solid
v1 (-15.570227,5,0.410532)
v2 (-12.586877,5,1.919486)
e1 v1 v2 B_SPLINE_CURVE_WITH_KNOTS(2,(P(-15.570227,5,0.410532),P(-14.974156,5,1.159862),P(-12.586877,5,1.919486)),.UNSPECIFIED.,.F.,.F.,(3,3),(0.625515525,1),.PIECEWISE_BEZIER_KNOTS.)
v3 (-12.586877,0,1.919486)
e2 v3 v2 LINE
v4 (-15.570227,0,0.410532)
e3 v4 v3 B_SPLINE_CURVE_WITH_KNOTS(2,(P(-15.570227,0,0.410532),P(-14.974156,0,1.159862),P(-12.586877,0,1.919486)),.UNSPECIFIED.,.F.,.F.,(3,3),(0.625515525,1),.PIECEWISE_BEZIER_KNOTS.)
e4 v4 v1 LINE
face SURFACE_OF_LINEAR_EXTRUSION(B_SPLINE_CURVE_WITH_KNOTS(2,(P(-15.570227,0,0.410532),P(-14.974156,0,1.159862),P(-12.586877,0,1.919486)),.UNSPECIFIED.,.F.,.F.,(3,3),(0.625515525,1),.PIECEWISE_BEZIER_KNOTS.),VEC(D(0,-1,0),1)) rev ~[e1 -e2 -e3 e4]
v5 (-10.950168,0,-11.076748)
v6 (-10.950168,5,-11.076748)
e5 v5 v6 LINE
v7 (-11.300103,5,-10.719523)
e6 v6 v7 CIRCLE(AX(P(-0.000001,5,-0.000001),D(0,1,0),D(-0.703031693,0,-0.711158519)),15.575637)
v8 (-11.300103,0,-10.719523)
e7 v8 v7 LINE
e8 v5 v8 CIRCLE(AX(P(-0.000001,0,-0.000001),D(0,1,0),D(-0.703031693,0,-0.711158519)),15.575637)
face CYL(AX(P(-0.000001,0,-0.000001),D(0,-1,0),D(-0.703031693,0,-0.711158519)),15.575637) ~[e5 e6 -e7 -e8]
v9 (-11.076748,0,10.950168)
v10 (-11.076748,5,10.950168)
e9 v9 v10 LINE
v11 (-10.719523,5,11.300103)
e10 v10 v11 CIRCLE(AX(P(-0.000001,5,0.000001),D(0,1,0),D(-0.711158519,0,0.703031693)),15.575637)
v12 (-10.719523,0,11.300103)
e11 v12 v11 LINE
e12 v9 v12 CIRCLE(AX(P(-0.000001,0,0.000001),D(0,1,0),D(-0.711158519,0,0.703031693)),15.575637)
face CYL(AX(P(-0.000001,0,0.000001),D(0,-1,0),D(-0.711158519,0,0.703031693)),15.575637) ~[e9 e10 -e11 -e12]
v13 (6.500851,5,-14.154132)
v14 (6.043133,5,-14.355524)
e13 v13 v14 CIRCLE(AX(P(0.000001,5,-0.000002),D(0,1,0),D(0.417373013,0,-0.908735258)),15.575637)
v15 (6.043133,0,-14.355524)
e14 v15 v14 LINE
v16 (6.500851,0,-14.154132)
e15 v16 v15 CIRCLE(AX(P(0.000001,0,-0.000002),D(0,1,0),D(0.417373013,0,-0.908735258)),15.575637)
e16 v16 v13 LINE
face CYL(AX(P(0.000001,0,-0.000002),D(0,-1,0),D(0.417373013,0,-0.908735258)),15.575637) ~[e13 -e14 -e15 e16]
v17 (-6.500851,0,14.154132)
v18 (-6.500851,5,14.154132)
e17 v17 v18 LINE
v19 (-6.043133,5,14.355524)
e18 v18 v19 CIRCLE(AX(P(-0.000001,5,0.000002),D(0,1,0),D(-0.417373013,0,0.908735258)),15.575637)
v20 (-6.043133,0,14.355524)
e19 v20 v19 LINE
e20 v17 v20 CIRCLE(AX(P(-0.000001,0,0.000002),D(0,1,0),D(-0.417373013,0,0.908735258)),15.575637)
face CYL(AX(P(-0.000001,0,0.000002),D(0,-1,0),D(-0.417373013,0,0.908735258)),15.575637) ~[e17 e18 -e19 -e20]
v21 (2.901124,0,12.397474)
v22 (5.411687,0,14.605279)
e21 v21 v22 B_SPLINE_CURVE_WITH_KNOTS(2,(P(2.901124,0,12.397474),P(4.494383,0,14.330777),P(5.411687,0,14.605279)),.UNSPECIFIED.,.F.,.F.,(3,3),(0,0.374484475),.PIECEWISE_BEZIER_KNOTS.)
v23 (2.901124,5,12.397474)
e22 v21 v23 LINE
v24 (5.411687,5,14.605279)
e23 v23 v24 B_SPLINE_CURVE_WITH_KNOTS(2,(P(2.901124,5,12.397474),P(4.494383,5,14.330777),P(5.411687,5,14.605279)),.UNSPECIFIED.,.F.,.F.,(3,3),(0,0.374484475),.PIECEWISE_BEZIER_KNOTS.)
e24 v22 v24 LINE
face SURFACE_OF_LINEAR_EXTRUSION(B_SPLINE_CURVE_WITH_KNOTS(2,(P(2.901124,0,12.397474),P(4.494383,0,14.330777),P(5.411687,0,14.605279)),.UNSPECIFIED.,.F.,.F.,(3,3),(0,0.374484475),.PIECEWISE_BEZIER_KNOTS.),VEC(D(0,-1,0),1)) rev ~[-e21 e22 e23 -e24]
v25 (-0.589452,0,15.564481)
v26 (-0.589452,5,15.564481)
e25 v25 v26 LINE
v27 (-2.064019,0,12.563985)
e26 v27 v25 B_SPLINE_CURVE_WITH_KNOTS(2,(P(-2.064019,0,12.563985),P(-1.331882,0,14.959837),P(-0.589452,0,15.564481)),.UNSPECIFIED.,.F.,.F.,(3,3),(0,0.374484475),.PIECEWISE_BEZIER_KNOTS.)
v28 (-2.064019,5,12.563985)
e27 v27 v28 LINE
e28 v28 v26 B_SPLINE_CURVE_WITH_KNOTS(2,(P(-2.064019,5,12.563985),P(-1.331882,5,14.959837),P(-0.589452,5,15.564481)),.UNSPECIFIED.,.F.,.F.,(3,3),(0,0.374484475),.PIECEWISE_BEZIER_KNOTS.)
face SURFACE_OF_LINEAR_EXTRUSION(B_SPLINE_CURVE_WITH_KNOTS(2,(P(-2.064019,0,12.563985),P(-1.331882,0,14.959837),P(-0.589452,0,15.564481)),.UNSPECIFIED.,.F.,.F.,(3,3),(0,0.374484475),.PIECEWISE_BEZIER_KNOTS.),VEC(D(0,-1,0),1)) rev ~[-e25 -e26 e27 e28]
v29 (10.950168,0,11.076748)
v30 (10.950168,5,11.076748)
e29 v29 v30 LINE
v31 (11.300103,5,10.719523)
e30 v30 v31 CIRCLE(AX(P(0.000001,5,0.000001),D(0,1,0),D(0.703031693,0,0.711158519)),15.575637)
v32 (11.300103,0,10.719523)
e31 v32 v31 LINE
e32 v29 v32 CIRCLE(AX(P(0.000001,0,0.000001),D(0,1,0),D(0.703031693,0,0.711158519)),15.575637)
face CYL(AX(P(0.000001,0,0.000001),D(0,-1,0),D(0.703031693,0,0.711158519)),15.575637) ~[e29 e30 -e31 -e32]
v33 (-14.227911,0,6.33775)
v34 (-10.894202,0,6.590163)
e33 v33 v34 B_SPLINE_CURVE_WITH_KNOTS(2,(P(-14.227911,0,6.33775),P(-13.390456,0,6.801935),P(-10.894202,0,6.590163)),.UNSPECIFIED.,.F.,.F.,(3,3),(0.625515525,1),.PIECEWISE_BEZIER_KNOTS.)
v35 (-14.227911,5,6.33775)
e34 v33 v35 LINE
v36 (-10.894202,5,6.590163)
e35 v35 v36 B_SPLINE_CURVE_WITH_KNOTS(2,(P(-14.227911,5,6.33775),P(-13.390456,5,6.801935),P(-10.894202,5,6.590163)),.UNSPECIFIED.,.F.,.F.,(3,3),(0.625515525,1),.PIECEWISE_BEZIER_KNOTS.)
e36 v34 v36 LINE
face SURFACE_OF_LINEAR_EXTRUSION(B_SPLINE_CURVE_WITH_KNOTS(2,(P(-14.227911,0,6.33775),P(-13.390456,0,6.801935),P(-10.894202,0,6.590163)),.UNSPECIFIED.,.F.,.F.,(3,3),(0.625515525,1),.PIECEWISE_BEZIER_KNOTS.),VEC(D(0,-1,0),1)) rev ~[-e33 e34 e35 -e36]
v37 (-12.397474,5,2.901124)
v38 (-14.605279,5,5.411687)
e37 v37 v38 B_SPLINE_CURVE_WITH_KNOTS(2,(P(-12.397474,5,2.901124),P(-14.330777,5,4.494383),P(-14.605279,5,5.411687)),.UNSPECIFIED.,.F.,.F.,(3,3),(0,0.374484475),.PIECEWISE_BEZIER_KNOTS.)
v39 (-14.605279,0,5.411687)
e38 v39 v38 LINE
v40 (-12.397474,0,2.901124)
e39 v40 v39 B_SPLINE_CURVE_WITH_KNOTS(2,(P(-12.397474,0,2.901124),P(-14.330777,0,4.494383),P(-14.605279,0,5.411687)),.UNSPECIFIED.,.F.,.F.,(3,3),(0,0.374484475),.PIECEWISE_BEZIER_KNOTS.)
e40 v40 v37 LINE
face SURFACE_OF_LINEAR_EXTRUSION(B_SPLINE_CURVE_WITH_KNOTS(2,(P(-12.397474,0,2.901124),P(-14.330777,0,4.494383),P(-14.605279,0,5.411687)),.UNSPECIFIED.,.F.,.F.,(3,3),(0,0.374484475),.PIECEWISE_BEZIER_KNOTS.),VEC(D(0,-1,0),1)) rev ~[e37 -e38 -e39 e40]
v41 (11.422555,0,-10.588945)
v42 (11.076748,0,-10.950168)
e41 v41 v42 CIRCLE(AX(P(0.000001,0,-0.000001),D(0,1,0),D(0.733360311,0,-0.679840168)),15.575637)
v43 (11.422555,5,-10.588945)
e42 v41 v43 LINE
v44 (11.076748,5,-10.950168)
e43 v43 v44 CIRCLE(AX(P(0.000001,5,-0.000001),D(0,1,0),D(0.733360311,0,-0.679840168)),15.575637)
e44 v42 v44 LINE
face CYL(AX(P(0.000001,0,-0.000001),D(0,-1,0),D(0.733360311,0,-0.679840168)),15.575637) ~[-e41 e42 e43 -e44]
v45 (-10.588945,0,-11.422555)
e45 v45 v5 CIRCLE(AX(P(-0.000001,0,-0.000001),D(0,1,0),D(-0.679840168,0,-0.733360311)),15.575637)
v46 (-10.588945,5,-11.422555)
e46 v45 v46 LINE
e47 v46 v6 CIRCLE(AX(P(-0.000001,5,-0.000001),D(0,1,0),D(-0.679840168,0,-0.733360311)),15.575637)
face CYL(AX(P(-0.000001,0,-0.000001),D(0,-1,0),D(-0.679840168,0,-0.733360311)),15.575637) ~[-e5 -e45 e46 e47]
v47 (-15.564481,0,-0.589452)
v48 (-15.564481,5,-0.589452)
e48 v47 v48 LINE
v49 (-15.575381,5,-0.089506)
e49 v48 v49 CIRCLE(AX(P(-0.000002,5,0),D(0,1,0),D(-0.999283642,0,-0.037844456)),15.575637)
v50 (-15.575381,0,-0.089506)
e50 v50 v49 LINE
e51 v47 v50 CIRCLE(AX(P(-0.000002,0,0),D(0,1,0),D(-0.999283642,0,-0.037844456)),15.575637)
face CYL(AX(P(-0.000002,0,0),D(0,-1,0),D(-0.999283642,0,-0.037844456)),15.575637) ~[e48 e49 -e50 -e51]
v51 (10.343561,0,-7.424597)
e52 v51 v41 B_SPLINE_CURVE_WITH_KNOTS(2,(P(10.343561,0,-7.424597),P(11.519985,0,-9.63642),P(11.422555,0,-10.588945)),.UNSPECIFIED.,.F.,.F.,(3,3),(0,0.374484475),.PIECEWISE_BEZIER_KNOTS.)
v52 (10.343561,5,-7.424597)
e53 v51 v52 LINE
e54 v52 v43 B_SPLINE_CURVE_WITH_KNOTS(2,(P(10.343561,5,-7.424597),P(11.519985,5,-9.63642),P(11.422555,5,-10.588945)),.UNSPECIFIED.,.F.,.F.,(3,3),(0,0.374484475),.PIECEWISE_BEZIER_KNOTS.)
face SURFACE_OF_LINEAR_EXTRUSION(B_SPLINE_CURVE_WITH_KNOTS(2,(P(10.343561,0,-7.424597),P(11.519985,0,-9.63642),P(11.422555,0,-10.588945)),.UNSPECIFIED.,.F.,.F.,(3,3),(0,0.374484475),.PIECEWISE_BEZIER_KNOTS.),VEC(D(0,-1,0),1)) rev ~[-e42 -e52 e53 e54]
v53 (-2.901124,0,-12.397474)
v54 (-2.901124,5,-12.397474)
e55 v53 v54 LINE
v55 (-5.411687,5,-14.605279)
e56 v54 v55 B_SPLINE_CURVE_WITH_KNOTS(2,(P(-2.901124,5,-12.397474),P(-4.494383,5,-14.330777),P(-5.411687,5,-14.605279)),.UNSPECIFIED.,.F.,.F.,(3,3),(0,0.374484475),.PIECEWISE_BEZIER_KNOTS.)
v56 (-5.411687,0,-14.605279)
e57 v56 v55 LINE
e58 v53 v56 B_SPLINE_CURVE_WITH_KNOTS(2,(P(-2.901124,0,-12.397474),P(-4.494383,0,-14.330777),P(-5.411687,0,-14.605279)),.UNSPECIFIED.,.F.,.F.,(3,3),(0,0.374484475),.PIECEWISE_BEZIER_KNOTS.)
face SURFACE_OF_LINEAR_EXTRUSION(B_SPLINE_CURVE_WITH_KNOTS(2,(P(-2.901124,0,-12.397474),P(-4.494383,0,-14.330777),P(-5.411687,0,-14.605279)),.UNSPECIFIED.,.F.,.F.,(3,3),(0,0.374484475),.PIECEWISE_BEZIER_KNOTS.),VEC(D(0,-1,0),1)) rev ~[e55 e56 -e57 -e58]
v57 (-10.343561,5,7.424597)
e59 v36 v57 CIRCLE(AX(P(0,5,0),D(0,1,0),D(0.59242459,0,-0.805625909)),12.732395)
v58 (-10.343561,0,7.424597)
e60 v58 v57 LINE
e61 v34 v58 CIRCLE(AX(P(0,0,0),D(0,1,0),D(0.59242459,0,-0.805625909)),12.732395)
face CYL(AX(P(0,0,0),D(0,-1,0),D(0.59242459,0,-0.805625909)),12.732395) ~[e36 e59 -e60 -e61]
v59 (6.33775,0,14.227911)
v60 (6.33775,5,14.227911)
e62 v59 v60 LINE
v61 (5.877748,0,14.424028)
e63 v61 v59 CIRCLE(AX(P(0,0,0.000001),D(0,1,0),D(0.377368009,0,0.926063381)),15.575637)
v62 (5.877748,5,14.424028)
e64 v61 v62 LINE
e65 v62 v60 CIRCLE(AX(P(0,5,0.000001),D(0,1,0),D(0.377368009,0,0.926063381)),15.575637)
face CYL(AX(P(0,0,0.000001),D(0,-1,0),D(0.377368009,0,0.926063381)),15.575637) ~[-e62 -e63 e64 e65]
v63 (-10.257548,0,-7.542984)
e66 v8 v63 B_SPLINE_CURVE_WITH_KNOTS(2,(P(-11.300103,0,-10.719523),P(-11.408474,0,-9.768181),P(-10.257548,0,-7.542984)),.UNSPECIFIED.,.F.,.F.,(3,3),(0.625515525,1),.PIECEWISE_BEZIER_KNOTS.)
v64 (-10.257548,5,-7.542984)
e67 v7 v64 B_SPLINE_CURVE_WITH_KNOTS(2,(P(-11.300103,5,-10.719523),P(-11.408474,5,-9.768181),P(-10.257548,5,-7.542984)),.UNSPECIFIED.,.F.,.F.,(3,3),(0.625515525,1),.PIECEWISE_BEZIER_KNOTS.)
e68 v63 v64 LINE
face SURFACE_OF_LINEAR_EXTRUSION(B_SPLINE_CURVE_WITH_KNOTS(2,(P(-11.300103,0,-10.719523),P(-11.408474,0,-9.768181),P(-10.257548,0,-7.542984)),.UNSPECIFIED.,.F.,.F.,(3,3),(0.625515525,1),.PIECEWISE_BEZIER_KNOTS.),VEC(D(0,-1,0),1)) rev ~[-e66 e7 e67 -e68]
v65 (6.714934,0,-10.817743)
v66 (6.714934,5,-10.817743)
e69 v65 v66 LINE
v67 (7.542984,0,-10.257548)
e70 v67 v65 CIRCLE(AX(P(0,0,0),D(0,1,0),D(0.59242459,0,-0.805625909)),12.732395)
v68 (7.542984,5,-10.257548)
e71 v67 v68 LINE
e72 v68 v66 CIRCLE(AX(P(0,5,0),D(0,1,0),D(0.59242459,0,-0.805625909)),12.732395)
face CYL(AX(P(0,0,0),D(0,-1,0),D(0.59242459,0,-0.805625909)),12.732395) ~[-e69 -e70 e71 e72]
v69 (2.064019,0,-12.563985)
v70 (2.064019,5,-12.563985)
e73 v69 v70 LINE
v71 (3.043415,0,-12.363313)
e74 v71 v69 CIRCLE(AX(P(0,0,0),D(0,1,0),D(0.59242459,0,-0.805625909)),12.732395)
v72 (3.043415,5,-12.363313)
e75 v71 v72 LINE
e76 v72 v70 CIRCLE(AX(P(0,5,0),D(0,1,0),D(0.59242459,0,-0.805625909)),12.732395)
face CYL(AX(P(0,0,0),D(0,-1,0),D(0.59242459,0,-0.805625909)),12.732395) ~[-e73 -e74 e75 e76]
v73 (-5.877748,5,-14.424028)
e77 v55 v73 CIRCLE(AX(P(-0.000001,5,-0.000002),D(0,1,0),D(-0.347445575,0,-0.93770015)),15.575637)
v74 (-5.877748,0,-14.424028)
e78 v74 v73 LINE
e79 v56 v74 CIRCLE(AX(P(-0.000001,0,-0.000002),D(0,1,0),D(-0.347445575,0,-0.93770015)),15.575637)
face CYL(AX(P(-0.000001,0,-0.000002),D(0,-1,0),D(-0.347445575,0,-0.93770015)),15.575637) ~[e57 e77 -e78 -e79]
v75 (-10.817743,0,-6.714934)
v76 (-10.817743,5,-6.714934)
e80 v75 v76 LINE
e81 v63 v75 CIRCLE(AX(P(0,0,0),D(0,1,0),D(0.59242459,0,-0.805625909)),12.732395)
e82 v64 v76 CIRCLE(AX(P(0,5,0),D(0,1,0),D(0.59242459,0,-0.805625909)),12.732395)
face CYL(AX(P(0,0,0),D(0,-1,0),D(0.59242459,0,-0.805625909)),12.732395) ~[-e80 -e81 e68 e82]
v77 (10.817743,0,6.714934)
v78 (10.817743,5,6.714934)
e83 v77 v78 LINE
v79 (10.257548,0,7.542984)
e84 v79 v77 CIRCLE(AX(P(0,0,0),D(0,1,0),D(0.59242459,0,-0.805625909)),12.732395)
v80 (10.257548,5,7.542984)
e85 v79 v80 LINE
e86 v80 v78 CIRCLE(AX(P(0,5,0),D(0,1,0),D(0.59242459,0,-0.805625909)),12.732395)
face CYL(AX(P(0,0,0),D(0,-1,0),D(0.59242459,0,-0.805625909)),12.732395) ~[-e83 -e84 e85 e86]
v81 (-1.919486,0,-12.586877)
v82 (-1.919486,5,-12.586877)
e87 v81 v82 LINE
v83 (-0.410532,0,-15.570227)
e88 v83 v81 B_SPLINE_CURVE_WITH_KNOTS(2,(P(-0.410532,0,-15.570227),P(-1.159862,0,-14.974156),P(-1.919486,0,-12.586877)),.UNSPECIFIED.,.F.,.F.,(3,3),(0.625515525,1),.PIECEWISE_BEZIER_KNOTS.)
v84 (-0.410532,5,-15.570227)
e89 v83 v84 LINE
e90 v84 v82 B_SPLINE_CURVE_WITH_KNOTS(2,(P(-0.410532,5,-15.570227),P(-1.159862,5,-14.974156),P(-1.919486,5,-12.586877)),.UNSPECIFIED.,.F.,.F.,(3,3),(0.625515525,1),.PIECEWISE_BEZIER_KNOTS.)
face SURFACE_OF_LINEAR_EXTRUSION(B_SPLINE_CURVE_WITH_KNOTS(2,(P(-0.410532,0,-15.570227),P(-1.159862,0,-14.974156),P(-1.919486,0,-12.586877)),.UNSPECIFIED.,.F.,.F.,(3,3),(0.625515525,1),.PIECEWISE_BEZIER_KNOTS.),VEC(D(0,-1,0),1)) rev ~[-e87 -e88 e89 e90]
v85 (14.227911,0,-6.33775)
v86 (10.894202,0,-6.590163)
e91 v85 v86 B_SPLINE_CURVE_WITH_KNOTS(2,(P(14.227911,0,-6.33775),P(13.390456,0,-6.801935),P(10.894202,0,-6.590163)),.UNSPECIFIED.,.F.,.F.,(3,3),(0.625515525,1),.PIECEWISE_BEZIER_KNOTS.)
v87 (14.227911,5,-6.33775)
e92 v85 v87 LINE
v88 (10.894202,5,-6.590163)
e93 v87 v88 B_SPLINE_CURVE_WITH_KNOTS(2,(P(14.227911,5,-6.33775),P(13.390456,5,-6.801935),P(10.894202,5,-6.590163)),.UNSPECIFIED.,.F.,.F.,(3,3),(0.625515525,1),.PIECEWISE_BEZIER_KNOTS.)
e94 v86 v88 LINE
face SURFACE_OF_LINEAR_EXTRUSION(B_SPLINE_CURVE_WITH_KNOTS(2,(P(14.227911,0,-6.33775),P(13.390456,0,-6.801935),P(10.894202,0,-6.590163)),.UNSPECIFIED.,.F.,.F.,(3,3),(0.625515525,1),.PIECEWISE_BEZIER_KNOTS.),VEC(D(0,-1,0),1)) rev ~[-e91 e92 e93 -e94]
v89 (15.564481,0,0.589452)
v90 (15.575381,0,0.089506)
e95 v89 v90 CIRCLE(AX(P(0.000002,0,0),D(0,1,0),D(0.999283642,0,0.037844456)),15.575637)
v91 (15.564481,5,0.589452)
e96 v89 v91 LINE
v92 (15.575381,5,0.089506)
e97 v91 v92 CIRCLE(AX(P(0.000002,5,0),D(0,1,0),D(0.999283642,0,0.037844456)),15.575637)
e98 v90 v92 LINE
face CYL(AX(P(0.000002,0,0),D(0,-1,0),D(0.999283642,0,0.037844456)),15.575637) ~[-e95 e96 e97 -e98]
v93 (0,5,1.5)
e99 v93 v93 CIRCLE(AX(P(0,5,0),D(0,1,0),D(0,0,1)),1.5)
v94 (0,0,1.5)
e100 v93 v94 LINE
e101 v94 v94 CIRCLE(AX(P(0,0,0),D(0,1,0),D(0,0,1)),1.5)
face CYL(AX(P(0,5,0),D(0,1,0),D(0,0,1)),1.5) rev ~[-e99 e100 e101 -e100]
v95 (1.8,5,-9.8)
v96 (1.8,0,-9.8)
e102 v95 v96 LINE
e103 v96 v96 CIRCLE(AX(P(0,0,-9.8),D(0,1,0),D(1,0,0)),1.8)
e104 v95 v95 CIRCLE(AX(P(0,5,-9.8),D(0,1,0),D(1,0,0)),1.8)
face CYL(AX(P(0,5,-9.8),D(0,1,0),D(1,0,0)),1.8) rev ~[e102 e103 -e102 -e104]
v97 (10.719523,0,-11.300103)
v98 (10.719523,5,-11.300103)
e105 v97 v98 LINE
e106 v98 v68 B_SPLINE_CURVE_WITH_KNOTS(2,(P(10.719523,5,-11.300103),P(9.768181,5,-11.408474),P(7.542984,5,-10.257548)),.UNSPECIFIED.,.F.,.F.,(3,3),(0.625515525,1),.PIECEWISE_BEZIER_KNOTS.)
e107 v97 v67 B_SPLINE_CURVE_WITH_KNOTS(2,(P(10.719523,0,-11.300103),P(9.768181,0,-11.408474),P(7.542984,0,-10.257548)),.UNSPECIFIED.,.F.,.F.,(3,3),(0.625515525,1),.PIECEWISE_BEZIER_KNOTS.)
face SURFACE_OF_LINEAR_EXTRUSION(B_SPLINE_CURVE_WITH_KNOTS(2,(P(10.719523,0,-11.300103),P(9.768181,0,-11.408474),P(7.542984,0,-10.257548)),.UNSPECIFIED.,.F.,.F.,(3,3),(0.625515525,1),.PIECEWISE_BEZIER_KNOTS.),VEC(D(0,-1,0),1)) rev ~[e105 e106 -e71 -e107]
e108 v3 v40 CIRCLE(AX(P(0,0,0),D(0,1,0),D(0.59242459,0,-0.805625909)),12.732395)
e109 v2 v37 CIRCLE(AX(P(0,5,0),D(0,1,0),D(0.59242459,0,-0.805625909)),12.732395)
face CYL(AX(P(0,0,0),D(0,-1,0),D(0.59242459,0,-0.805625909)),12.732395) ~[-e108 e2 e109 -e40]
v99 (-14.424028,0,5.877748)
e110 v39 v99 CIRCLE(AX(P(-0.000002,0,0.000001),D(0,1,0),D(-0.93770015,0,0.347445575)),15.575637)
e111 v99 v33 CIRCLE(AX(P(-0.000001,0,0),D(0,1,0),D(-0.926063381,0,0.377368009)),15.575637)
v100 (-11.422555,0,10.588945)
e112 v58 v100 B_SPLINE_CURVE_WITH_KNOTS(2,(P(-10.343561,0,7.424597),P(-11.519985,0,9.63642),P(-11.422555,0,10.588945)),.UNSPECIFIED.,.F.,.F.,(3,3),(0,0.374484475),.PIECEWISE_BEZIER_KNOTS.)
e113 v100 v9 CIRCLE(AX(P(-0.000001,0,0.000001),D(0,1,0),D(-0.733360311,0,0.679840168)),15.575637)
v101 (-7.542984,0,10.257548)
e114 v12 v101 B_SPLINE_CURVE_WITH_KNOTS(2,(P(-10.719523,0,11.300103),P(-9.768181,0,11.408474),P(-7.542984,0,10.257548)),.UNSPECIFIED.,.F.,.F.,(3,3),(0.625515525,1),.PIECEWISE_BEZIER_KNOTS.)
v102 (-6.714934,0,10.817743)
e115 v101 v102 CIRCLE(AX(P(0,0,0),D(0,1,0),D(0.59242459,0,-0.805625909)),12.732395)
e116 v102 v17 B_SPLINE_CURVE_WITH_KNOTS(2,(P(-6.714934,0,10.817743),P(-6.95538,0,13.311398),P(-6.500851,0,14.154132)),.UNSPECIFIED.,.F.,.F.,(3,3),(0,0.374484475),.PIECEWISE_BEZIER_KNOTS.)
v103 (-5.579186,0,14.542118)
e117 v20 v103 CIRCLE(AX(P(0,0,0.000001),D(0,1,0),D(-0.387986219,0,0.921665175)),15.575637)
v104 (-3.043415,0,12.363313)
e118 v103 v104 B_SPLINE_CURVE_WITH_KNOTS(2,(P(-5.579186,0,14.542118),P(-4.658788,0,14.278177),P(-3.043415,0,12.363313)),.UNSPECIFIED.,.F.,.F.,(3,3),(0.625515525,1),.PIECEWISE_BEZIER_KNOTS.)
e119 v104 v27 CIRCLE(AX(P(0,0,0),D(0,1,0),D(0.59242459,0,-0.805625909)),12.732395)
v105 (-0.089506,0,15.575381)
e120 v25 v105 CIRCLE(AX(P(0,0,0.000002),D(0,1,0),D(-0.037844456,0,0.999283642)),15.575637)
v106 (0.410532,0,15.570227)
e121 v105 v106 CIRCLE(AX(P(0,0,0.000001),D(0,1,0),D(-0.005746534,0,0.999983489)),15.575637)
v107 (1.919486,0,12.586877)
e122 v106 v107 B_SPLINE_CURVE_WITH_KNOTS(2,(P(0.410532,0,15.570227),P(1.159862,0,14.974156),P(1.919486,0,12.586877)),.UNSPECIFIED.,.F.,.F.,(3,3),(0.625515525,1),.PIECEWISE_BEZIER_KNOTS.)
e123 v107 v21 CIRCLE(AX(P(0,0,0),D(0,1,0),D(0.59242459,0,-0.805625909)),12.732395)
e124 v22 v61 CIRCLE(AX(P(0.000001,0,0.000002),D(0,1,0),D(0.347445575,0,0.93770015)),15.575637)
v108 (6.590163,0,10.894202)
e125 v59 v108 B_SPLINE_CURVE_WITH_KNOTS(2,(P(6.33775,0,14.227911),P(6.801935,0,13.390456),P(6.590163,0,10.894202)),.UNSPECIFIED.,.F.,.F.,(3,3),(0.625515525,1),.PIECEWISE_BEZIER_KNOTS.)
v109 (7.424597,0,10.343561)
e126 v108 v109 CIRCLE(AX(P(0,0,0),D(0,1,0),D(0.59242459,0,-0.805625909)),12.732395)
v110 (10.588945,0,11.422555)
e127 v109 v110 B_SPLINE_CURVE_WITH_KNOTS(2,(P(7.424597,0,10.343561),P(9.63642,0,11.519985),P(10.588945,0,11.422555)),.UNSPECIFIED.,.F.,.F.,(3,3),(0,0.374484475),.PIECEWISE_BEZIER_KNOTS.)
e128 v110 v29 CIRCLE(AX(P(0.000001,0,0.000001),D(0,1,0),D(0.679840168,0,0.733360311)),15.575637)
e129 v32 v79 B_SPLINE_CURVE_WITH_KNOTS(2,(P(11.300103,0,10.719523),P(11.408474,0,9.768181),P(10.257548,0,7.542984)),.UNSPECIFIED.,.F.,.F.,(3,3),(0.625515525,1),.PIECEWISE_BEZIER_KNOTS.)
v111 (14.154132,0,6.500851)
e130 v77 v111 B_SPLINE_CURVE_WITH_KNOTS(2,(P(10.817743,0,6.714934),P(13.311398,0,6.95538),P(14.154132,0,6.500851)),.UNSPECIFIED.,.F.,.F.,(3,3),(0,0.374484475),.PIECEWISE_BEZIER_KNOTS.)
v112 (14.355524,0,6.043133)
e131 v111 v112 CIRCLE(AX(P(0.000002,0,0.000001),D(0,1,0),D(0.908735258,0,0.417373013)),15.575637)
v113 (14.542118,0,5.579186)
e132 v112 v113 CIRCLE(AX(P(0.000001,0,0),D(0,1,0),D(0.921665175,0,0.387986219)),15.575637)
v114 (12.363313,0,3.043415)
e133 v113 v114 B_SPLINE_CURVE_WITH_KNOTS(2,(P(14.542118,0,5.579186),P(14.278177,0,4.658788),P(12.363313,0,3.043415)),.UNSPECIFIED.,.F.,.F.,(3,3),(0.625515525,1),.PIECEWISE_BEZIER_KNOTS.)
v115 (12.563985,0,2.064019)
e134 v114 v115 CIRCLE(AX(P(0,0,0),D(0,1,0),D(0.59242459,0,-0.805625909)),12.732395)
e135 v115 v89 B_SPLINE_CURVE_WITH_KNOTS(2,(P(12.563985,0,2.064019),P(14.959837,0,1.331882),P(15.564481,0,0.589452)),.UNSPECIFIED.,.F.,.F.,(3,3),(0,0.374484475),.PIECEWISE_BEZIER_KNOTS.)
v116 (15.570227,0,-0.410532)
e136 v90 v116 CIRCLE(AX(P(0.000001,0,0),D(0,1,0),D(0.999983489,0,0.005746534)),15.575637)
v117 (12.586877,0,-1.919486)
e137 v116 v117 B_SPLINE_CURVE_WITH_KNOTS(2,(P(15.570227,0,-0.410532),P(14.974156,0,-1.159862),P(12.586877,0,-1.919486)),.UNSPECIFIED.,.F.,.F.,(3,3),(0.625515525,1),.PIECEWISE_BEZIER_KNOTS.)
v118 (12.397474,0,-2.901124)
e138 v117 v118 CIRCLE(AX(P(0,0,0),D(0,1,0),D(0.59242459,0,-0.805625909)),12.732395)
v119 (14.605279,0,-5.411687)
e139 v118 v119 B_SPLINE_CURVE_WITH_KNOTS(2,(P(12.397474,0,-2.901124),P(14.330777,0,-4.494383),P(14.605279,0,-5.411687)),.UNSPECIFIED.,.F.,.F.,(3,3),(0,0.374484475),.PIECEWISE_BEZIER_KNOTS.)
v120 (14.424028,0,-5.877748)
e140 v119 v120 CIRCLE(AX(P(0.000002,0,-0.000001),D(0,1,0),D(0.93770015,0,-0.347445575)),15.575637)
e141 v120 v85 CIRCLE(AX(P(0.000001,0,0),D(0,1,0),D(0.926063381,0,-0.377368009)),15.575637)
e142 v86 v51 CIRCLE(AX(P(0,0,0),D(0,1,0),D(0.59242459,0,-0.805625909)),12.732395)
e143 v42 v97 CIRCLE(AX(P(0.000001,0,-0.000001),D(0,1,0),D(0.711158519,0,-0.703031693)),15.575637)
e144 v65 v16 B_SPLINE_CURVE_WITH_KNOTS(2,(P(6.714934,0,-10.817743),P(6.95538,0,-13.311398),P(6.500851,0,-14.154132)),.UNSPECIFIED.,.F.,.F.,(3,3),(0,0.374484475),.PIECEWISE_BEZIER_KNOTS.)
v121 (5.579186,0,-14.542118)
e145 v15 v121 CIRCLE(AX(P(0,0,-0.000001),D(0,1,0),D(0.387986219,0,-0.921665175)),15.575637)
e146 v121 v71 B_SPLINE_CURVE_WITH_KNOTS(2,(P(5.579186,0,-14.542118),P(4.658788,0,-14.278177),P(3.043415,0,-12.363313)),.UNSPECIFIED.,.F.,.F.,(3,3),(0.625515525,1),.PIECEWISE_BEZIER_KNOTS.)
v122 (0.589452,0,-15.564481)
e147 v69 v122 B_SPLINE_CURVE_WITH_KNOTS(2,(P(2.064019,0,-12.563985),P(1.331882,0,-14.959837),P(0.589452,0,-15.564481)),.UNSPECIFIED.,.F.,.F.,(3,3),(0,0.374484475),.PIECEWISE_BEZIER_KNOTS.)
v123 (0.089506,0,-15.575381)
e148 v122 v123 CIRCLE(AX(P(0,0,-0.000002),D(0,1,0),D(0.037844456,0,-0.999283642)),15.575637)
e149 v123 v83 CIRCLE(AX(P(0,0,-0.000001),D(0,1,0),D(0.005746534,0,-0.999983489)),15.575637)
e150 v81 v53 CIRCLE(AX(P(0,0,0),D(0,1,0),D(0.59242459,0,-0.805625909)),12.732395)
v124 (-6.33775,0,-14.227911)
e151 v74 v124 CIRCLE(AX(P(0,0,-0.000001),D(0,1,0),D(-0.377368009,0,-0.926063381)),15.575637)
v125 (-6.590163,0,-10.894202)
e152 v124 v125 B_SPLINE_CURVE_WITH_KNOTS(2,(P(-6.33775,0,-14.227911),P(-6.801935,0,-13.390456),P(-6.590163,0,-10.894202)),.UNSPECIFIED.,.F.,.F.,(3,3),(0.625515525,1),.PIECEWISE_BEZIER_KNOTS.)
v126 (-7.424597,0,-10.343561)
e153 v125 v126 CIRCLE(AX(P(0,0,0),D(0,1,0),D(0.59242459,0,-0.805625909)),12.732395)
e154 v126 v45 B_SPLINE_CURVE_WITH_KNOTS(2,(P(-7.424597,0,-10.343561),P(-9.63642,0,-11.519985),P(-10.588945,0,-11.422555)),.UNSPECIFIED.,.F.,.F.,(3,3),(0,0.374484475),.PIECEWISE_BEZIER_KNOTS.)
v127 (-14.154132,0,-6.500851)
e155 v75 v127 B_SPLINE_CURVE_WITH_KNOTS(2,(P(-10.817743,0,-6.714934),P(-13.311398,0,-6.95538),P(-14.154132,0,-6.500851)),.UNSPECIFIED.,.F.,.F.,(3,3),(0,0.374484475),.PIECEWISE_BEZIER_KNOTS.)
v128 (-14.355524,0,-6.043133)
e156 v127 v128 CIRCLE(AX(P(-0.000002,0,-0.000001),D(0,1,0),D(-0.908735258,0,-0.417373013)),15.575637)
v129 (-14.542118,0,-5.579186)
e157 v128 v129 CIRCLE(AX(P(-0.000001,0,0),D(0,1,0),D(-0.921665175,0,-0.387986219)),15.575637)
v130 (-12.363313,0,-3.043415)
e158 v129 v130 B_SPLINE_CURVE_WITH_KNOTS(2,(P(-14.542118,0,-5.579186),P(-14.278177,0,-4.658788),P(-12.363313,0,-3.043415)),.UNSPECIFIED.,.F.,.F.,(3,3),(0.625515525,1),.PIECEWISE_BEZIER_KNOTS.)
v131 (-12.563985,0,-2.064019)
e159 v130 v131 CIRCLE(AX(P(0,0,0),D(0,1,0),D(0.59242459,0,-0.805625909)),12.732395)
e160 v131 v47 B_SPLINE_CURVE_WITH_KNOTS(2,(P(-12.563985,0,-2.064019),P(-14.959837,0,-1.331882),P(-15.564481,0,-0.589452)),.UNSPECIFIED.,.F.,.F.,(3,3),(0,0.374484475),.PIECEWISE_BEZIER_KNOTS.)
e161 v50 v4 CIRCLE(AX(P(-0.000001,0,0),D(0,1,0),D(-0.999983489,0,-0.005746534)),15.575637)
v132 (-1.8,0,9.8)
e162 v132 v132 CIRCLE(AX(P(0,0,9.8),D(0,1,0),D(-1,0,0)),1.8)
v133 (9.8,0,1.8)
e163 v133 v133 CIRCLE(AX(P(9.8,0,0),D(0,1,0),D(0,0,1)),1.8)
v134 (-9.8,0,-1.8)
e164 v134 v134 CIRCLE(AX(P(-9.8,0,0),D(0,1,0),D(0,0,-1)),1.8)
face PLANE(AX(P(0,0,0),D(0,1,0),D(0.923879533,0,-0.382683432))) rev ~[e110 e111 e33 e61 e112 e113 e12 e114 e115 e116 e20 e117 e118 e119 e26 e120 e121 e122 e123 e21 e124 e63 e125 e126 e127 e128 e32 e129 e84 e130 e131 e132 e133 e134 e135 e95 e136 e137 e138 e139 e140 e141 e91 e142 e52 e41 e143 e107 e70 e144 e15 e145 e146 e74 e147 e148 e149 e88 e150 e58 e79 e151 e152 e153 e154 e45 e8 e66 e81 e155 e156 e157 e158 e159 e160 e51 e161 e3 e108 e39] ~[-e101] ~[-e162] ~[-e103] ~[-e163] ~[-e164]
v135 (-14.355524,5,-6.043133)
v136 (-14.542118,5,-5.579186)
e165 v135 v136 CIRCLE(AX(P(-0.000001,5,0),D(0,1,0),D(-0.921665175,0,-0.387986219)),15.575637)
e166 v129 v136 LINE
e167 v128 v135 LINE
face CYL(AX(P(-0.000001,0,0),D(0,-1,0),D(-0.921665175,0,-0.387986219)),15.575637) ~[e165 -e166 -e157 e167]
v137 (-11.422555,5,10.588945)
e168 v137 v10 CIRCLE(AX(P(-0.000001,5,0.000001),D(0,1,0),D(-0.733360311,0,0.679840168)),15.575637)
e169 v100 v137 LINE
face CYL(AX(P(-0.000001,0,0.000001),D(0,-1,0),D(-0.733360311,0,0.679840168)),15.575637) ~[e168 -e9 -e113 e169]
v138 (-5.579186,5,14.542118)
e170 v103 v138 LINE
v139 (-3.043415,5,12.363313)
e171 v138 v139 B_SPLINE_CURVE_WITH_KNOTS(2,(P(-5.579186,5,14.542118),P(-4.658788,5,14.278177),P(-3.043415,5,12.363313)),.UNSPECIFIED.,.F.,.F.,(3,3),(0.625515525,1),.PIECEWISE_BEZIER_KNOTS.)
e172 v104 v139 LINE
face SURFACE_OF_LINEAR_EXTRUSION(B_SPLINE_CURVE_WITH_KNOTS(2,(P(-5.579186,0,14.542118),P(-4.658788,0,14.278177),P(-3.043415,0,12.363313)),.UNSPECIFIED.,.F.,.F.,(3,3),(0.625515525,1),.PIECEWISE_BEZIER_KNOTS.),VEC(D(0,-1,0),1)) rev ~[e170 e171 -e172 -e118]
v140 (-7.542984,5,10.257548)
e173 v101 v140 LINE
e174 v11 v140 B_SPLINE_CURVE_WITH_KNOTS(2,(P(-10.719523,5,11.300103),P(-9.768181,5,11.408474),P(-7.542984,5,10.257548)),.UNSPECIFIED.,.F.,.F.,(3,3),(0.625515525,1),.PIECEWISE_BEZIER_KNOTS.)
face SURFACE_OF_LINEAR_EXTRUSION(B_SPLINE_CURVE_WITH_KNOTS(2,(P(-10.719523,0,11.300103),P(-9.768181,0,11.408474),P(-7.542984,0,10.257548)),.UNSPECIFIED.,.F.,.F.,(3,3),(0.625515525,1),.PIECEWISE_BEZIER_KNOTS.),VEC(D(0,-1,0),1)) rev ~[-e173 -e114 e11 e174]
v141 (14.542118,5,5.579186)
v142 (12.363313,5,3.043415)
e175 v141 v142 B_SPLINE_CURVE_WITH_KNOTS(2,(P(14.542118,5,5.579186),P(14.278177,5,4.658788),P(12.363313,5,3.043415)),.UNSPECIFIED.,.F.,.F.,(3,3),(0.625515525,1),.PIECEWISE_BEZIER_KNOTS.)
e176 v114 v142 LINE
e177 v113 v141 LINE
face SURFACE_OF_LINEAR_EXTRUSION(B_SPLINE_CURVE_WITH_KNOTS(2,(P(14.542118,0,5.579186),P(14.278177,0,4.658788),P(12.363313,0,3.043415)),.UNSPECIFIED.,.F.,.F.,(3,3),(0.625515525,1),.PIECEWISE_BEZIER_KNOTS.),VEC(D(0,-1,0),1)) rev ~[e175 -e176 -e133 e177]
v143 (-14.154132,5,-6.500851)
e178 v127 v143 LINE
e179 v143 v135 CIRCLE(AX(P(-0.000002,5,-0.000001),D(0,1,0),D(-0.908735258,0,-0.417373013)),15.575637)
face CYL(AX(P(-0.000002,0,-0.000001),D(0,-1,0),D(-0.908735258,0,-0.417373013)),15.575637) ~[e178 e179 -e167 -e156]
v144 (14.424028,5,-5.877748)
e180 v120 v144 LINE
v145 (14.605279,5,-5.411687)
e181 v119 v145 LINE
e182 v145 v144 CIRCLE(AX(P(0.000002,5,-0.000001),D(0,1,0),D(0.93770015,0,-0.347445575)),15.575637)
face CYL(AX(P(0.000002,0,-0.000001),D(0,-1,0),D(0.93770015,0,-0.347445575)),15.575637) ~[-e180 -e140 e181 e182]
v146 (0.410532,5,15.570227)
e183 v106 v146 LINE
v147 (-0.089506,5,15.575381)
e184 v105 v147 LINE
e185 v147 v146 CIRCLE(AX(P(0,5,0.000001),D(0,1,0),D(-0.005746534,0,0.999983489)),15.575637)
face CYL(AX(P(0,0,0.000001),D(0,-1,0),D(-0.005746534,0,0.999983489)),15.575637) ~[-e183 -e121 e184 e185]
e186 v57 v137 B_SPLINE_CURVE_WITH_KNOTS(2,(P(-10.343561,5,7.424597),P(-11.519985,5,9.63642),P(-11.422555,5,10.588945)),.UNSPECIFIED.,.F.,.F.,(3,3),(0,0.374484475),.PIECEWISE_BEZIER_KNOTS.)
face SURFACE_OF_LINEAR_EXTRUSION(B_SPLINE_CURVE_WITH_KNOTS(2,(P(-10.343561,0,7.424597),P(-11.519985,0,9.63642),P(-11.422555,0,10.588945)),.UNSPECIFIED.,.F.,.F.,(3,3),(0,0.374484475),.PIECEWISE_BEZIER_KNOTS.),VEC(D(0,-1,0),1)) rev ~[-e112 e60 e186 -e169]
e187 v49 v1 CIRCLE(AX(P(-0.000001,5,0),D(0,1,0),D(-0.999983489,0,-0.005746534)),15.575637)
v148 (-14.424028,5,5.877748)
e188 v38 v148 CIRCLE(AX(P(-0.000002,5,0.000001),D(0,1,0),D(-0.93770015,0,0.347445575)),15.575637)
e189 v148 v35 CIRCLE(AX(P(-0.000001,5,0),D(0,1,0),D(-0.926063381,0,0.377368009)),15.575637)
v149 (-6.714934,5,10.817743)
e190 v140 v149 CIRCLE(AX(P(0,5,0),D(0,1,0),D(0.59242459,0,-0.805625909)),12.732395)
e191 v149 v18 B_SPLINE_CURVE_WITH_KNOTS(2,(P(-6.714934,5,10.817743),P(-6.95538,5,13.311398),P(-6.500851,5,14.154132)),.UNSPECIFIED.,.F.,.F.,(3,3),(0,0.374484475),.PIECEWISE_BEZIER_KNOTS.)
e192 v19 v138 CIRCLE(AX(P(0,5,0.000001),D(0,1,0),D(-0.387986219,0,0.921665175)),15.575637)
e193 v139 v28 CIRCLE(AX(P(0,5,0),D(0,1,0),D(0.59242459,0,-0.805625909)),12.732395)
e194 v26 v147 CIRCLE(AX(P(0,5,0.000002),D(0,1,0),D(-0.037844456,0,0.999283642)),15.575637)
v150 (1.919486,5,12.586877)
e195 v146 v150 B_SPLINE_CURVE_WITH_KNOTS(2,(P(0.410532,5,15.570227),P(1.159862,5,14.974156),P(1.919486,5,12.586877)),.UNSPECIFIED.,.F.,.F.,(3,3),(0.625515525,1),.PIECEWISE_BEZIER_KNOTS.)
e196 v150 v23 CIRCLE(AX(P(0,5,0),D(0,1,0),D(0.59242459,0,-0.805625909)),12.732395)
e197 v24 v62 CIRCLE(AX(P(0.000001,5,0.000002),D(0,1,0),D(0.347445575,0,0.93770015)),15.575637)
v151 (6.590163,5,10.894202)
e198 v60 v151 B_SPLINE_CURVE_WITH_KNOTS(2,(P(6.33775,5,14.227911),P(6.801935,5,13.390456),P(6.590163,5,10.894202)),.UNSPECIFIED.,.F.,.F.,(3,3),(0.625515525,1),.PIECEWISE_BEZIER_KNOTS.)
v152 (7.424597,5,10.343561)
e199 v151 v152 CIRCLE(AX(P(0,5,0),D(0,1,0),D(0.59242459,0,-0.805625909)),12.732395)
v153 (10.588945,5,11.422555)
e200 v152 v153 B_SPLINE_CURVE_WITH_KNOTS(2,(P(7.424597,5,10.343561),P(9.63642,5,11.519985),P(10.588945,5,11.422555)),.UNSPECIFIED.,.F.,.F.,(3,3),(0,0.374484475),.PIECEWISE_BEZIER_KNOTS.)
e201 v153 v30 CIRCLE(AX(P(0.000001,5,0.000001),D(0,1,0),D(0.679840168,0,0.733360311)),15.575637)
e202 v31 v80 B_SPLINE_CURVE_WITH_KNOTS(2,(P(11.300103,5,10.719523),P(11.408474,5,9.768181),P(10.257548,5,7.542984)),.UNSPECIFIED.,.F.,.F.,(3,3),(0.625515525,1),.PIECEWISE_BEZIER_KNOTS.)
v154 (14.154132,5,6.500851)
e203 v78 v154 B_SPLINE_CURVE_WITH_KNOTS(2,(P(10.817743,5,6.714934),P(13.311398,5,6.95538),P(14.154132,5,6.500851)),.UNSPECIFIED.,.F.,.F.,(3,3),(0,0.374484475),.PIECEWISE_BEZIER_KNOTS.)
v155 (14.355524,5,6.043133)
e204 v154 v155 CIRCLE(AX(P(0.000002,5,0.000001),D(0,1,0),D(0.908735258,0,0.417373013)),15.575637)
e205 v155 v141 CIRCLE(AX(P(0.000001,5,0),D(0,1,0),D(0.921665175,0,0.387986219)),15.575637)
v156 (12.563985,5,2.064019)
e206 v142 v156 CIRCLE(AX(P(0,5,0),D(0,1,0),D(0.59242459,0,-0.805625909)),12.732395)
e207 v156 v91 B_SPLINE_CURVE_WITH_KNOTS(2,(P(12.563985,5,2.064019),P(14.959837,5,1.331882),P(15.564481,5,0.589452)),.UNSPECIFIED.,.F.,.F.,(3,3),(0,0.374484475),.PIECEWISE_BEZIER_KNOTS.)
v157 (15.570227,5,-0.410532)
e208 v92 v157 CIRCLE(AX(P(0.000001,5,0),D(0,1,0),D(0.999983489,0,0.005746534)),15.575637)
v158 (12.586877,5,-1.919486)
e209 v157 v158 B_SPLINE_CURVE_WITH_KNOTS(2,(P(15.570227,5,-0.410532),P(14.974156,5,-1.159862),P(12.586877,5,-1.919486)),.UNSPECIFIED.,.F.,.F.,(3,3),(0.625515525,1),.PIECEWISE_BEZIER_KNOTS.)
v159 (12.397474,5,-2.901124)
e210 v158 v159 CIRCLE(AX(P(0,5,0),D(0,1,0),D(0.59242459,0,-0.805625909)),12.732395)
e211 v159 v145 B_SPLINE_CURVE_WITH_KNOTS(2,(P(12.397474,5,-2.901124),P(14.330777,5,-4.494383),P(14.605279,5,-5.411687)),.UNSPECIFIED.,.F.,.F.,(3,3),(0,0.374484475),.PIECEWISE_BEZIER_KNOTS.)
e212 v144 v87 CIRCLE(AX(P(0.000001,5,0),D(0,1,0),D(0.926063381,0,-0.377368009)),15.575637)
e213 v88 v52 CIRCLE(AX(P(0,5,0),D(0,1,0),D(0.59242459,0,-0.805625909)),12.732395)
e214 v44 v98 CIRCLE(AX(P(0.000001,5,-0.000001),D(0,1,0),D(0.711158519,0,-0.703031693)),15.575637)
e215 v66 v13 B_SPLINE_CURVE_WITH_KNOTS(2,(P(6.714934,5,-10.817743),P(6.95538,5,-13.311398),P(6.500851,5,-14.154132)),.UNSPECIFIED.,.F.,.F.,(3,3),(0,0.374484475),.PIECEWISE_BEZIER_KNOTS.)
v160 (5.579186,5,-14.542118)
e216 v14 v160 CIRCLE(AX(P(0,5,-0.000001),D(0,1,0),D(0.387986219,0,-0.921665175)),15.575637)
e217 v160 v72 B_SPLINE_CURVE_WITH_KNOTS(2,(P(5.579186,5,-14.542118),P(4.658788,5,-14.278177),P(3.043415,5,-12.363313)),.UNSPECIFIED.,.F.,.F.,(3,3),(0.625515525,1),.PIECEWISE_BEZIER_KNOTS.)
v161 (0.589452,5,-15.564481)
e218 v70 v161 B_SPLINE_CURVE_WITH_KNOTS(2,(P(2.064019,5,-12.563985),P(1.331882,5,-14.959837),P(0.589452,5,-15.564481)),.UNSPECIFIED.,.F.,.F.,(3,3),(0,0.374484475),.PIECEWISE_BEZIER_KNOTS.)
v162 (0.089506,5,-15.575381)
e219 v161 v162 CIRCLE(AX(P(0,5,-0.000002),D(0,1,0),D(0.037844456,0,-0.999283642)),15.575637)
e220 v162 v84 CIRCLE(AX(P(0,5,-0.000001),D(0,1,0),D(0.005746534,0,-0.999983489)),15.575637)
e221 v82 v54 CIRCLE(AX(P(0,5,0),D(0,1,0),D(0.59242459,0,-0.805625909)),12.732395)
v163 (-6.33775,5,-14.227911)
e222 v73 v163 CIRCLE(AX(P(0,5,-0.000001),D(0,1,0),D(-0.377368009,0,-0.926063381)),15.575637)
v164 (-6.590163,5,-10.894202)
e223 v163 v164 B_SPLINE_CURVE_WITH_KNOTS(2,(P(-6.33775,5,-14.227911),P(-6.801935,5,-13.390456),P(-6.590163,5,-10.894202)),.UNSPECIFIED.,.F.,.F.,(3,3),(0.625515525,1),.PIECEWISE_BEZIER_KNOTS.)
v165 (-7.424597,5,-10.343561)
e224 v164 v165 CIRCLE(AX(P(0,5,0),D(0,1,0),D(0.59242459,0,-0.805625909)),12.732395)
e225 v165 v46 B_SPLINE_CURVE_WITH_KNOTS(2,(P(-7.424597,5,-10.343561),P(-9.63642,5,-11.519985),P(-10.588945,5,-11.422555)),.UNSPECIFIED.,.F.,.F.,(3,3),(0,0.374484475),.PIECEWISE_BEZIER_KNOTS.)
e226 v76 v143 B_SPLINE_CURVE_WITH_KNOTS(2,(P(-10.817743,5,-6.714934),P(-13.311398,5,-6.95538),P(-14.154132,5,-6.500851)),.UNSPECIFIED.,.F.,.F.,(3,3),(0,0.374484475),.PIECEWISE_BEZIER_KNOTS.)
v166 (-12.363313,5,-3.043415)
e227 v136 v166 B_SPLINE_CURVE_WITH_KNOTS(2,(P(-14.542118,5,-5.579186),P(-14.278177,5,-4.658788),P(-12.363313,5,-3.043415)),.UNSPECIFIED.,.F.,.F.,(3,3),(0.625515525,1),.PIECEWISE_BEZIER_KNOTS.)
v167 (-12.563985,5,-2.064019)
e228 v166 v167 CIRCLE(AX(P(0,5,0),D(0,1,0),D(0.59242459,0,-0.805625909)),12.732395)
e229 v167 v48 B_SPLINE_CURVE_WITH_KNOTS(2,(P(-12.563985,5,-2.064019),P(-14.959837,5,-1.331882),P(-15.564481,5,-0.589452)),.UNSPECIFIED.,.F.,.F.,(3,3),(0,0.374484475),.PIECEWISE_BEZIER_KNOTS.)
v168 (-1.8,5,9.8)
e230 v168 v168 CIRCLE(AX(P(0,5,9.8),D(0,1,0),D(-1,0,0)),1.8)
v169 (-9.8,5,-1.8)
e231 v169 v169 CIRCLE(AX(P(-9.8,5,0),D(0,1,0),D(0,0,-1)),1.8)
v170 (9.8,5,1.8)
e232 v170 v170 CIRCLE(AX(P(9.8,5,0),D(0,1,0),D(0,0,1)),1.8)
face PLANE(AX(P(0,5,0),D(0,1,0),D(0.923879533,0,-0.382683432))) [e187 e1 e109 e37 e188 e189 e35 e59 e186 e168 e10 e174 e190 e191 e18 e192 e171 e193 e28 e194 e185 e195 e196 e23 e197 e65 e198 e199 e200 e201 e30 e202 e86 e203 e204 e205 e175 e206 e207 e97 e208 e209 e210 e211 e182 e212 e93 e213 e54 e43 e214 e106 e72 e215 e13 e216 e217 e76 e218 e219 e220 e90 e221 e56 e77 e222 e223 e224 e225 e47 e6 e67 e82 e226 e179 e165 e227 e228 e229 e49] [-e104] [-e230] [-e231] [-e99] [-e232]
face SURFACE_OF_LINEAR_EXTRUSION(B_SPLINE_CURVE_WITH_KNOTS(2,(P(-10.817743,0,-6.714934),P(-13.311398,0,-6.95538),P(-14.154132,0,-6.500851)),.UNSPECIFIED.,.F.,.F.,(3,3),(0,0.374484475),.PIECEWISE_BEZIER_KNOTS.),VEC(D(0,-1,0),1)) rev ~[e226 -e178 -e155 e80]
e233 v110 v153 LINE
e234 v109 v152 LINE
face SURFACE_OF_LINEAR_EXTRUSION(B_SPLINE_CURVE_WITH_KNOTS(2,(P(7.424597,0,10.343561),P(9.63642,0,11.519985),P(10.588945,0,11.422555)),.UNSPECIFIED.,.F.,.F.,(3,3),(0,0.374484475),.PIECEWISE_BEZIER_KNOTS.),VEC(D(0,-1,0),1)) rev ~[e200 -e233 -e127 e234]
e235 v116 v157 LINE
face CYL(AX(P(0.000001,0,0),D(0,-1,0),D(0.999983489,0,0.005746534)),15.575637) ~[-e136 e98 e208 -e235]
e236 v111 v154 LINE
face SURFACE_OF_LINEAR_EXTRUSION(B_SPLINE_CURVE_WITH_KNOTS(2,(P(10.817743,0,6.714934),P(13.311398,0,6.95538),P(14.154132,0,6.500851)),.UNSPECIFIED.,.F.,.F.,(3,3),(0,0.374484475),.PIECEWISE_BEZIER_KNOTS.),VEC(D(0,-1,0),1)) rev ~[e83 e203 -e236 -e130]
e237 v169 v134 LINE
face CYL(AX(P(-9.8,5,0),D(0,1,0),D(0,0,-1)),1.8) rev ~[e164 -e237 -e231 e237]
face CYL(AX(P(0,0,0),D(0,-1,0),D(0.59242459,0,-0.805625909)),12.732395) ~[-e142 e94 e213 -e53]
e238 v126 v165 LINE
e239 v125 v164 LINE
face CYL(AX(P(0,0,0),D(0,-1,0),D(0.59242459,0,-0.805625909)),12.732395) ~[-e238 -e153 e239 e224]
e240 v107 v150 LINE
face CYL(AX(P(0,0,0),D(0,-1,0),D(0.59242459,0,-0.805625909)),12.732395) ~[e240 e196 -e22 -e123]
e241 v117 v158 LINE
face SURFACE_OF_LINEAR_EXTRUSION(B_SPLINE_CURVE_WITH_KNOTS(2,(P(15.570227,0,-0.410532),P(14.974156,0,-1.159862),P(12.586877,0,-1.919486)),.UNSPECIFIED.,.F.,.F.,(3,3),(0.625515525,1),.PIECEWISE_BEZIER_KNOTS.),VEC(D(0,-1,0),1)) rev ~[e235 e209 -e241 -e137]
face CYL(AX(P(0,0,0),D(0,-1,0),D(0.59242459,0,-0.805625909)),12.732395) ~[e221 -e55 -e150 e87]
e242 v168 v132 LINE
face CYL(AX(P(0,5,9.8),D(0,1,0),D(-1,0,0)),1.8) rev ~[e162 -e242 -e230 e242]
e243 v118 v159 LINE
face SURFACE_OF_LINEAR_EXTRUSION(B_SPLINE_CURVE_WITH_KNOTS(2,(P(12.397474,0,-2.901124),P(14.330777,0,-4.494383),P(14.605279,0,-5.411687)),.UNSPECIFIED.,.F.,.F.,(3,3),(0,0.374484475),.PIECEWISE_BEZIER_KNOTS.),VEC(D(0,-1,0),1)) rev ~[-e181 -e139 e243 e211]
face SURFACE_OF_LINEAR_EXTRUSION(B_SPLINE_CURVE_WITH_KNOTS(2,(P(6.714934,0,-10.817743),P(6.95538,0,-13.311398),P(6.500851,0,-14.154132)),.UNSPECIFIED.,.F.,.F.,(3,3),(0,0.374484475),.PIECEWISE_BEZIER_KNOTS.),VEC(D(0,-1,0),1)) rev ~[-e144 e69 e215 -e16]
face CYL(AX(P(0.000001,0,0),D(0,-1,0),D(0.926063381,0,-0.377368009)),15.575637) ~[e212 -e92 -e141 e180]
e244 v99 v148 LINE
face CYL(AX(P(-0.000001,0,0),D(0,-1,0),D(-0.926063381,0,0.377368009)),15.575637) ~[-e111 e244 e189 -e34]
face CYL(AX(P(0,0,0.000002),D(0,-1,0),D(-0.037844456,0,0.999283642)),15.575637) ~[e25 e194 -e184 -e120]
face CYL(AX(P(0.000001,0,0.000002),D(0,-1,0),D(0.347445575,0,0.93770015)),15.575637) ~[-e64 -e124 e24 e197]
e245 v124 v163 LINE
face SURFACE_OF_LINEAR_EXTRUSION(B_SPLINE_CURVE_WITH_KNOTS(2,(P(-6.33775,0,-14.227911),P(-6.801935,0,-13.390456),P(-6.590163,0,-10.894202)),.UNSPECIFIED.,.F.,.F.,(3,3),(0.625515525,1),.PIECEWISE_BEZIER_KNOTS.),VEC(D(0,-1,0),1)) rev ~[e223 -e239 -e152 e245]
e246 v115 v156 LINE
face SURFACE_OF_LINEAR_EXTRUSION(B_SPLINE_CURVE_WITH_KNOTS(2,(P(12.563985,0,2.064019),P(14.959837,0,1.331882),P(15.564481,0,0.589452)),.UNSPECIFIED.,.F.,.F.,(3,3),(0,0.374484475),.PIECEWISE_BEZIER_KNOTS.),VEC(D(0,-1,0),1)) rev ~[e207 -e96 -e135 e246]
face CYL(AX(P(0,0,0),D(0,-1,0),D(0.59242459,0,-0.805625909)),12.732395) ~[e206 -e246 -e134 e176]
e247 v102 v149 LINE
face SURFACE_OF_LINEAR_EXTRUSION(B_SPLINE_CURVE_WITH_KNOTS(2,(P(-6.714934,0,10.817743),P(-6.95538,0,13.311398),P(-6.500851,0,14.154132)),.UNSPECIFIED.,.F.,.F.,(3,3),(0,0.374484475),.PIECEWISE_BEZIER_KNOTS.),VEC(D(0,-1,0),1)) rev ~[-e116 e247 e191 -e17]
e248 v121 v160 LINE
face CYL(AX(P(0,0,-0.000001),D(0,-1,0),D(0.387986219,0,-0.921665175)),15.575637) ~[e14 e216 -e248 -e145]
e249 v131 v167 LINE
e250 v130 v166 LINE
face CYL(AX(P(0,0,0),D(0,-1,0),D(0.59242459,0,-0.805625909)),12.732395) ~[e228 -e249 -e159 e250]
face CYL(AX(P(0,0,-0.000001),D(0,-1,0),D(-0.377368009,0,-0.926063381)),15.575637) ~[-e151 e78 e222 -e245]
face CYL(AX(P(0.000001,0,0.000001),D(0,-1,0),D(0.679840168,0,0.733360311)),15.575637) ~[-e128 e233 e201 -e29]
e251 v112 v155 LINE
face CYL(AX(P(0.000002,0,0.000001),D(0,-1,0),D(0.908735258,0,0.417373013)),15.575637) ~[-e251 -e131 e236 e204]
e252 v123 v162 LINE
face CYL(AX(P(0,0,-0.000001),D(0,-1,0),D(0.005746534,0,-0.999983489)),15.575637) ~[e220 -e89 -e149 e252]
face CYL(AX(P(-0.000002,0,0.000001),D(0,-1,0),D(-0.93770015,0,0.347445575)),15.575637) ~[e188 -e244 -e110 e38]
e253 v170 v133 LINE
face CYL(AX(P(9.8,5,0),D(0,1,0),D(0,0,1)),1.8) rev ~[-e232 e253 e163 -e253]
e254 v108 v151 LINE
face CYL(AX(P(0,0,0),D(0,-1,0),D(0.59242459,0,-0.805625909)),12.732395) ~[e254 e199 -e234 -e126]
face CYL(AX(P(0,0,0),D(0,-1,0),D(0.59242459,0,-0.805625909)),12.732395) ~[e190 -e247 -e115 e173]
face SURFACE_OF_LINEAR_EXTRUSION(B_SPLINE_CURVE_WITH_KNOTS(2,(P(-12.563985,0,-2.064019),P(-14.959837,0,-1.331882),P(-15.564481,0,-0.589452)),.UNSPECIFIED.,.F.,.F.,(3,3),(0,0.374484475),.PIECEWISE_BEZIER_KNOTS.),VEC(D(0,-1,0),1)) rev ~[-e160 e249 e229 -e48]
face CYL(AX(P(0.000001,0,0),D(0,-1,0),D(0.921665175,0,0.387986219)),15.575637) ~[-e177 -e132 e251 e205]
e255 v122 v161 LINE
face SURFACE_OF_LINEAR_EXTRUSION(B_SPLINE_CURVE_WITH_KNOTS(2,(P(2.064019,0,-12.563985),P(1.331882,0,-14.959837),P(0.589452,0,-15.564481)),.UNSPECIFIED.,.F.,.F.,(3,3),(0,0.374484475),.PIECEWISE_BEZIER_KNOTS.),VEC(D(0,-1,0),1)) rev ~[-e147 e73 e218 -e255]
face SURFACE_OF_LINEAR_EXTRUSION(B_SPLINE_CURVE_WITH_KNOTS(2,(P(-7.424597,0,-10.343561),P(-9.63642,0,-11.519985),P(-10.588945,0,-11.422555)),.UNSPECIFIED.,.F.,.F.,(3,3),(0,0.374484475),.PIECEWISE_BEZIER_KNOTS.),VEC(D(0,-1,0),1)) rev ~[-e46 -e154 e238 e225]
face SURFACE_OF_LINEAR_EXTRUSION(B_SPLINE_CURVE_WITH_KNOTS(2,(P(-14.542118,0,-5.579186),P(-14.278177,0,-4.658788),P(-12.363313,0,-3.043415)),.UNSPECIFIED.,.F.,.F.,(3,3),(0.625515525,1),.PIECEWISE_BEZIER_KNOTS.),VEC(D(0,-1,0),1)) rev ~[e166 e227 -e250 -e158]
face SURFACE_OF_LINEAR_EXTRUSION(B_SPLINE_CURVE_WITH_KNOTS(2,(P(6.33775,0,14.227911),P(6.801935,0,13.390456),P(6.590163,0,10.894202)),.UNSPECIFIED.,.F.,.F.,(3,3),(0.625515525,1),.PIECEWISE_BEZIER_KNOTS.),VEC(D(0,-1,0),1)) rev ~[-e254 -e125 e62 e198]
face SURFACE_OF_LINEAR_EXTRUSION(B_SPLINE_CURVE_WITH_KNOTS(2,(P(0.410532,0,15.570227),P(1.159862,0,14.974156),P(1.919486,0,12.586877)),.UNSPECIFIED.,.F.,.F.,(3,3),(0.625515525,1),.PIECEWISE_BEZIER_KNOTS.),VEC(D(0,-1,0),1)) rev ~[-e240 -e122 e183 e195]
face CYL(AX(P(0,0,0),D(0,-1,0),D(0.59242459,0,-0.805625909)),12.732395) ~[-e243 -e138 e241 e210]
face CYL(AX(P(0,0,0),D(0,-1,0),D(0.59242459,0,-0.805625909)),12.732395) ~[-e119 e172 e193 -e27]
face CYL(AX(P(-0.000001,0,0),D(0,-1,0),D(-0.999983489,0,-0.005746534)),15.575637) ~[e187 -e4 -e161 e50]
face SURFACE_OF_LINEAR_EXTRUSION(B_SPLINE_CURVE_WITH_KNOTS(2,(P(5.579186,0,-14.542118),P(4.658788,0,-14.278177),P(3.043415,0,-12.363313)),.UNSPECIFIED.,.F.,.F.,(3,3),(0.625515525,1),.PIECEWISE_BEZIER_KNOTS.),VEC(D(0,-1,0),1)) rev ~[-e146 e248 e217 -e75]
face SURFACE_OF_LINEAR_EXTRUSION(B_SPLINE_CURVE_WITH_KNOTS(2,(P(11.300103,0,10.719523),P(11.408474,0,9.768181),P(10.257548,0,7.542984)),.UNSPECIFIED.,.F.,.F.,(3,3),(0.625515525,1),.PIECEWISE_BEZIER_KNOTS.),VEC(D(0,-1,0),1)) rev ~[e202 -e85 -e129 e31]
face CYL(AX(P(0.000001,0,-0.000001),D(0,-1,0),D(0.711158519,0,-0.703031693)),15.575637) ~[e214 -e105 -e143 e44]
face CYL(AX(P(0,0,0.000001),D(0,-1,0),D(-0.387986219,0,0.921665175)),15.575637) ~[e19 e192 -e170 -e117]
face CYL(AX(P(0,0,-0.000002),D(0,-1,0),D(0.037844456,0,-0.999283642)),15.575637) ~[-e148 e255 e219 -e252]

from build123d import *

# Parameters (mm, degrees)
SKETCH1_R           = 12.732395447
BOSS_EXTRUDE4_DEPTH = 5
CIRPATTERN6_COUNT   = 16
SKETCH2_R           = 1.5
CUT_EXTRUDE1_DEPTH  = 10
SKETCH5_R           = 1.8
CUT_EXTRUDE2_DEPTH  = 10
CIRPATTERN7_COUNT   = 4


with BuildPart() as part:
    # Sketch1 → Boss-Extrude4 (new body)
    with BuildSketch(Plane(origin=(0, 0, 0), x_dir=(1, 0, 0), z_dir=(0, 1, 0))):
        Circle(SKETCH1_R)
        with BuildLine():
            ThreePointArc((11.422555102, 10.588944735), (11.251101314, 10.770944011), (11.076748025, 10.950167526))
            ThreePointArc((11.076748025, 10.950167526), (10.899540167, 11.126569094), (10.719523409, 11.300103253))
            add(Edge.make_bspline(
                [(10.719523409, 11.300103253), (9.768180921, 11.408474051), (7.542984157, 10.257547652)],
                knots=[0.625515525, 0.625515525, 0.625515525, 1, 1, 1], degree=2))
            ThreePointArc((7.542984157, 10.257547652), (9.054751485, 8.951277527), (10.34356078, 7.424597242))
            add(Edge.make_bspline(
                [(10.34356078, 7.424597242), (11.519985079, 9.636419587), (11.422555102, 10.588944735)],
                knots=[0, 0, 0, 0.374484475, 0.374484475, 0.374484475], degree=2))
        make_face()
    boss_extrude4 = extrude(amount=BOSS_EXTRUDE4_DEPTH)

    # CirPattern6: Boss-Extrude4 ×16 about axis
    cirpattern6_axis = Axis((0, 0, 0), (0, -1, 0))
    for i in range(1, CIRPATTERN6_COUNT):
        add(boss_extrude4.rotate(cirpattern6_axis, i * 360 / CIRPATTERN6_COUNT))

    # Sketch2 → Cut-Extrude1 (cut)
    with BuildSketch(Plane(origin=(0, 5, 0), x_dir=(1, 0, 0), z_dir=(0, 1, 0))):
        with Locations(Location((0, 0, 0), (0, 0, 270))):
            Circle(SKETCH2_R)
    extrude(amount=-CUT_EXTRUDE1_DEPTH, mode=Mode.SUBTRACT)

    # Sketch5 → Cut-Extrude2 (cut)
    with BuildSketch(Plane(origin=(0, 5, 0), x_dir=(1, 0, 0), z_dir=(0, 1, 0))):
        with Locations(Location((9.8, 0, 0), (0, 0, 270))):
            Circle(SKETCH5_R)
    cut_extrude2 = extrude(amount=-CUT_EXTRUDE2_DEPTH, mode=Mode.SUBTRACT)

    # CirPattern7: Cut-Extrude2 ×4 about axis
    cirpattern7_axis = Axis((0, 0, 0), (0, 1, 0))
    for i in range(1, CIRPATTERN7_COUNT):
        add(cut_extrude2.rotate(cirpattern7_axis, i * 360 / CIRPATTERN7_COUNT), mode=Mode.SUBTRACT)


solid = part.part
